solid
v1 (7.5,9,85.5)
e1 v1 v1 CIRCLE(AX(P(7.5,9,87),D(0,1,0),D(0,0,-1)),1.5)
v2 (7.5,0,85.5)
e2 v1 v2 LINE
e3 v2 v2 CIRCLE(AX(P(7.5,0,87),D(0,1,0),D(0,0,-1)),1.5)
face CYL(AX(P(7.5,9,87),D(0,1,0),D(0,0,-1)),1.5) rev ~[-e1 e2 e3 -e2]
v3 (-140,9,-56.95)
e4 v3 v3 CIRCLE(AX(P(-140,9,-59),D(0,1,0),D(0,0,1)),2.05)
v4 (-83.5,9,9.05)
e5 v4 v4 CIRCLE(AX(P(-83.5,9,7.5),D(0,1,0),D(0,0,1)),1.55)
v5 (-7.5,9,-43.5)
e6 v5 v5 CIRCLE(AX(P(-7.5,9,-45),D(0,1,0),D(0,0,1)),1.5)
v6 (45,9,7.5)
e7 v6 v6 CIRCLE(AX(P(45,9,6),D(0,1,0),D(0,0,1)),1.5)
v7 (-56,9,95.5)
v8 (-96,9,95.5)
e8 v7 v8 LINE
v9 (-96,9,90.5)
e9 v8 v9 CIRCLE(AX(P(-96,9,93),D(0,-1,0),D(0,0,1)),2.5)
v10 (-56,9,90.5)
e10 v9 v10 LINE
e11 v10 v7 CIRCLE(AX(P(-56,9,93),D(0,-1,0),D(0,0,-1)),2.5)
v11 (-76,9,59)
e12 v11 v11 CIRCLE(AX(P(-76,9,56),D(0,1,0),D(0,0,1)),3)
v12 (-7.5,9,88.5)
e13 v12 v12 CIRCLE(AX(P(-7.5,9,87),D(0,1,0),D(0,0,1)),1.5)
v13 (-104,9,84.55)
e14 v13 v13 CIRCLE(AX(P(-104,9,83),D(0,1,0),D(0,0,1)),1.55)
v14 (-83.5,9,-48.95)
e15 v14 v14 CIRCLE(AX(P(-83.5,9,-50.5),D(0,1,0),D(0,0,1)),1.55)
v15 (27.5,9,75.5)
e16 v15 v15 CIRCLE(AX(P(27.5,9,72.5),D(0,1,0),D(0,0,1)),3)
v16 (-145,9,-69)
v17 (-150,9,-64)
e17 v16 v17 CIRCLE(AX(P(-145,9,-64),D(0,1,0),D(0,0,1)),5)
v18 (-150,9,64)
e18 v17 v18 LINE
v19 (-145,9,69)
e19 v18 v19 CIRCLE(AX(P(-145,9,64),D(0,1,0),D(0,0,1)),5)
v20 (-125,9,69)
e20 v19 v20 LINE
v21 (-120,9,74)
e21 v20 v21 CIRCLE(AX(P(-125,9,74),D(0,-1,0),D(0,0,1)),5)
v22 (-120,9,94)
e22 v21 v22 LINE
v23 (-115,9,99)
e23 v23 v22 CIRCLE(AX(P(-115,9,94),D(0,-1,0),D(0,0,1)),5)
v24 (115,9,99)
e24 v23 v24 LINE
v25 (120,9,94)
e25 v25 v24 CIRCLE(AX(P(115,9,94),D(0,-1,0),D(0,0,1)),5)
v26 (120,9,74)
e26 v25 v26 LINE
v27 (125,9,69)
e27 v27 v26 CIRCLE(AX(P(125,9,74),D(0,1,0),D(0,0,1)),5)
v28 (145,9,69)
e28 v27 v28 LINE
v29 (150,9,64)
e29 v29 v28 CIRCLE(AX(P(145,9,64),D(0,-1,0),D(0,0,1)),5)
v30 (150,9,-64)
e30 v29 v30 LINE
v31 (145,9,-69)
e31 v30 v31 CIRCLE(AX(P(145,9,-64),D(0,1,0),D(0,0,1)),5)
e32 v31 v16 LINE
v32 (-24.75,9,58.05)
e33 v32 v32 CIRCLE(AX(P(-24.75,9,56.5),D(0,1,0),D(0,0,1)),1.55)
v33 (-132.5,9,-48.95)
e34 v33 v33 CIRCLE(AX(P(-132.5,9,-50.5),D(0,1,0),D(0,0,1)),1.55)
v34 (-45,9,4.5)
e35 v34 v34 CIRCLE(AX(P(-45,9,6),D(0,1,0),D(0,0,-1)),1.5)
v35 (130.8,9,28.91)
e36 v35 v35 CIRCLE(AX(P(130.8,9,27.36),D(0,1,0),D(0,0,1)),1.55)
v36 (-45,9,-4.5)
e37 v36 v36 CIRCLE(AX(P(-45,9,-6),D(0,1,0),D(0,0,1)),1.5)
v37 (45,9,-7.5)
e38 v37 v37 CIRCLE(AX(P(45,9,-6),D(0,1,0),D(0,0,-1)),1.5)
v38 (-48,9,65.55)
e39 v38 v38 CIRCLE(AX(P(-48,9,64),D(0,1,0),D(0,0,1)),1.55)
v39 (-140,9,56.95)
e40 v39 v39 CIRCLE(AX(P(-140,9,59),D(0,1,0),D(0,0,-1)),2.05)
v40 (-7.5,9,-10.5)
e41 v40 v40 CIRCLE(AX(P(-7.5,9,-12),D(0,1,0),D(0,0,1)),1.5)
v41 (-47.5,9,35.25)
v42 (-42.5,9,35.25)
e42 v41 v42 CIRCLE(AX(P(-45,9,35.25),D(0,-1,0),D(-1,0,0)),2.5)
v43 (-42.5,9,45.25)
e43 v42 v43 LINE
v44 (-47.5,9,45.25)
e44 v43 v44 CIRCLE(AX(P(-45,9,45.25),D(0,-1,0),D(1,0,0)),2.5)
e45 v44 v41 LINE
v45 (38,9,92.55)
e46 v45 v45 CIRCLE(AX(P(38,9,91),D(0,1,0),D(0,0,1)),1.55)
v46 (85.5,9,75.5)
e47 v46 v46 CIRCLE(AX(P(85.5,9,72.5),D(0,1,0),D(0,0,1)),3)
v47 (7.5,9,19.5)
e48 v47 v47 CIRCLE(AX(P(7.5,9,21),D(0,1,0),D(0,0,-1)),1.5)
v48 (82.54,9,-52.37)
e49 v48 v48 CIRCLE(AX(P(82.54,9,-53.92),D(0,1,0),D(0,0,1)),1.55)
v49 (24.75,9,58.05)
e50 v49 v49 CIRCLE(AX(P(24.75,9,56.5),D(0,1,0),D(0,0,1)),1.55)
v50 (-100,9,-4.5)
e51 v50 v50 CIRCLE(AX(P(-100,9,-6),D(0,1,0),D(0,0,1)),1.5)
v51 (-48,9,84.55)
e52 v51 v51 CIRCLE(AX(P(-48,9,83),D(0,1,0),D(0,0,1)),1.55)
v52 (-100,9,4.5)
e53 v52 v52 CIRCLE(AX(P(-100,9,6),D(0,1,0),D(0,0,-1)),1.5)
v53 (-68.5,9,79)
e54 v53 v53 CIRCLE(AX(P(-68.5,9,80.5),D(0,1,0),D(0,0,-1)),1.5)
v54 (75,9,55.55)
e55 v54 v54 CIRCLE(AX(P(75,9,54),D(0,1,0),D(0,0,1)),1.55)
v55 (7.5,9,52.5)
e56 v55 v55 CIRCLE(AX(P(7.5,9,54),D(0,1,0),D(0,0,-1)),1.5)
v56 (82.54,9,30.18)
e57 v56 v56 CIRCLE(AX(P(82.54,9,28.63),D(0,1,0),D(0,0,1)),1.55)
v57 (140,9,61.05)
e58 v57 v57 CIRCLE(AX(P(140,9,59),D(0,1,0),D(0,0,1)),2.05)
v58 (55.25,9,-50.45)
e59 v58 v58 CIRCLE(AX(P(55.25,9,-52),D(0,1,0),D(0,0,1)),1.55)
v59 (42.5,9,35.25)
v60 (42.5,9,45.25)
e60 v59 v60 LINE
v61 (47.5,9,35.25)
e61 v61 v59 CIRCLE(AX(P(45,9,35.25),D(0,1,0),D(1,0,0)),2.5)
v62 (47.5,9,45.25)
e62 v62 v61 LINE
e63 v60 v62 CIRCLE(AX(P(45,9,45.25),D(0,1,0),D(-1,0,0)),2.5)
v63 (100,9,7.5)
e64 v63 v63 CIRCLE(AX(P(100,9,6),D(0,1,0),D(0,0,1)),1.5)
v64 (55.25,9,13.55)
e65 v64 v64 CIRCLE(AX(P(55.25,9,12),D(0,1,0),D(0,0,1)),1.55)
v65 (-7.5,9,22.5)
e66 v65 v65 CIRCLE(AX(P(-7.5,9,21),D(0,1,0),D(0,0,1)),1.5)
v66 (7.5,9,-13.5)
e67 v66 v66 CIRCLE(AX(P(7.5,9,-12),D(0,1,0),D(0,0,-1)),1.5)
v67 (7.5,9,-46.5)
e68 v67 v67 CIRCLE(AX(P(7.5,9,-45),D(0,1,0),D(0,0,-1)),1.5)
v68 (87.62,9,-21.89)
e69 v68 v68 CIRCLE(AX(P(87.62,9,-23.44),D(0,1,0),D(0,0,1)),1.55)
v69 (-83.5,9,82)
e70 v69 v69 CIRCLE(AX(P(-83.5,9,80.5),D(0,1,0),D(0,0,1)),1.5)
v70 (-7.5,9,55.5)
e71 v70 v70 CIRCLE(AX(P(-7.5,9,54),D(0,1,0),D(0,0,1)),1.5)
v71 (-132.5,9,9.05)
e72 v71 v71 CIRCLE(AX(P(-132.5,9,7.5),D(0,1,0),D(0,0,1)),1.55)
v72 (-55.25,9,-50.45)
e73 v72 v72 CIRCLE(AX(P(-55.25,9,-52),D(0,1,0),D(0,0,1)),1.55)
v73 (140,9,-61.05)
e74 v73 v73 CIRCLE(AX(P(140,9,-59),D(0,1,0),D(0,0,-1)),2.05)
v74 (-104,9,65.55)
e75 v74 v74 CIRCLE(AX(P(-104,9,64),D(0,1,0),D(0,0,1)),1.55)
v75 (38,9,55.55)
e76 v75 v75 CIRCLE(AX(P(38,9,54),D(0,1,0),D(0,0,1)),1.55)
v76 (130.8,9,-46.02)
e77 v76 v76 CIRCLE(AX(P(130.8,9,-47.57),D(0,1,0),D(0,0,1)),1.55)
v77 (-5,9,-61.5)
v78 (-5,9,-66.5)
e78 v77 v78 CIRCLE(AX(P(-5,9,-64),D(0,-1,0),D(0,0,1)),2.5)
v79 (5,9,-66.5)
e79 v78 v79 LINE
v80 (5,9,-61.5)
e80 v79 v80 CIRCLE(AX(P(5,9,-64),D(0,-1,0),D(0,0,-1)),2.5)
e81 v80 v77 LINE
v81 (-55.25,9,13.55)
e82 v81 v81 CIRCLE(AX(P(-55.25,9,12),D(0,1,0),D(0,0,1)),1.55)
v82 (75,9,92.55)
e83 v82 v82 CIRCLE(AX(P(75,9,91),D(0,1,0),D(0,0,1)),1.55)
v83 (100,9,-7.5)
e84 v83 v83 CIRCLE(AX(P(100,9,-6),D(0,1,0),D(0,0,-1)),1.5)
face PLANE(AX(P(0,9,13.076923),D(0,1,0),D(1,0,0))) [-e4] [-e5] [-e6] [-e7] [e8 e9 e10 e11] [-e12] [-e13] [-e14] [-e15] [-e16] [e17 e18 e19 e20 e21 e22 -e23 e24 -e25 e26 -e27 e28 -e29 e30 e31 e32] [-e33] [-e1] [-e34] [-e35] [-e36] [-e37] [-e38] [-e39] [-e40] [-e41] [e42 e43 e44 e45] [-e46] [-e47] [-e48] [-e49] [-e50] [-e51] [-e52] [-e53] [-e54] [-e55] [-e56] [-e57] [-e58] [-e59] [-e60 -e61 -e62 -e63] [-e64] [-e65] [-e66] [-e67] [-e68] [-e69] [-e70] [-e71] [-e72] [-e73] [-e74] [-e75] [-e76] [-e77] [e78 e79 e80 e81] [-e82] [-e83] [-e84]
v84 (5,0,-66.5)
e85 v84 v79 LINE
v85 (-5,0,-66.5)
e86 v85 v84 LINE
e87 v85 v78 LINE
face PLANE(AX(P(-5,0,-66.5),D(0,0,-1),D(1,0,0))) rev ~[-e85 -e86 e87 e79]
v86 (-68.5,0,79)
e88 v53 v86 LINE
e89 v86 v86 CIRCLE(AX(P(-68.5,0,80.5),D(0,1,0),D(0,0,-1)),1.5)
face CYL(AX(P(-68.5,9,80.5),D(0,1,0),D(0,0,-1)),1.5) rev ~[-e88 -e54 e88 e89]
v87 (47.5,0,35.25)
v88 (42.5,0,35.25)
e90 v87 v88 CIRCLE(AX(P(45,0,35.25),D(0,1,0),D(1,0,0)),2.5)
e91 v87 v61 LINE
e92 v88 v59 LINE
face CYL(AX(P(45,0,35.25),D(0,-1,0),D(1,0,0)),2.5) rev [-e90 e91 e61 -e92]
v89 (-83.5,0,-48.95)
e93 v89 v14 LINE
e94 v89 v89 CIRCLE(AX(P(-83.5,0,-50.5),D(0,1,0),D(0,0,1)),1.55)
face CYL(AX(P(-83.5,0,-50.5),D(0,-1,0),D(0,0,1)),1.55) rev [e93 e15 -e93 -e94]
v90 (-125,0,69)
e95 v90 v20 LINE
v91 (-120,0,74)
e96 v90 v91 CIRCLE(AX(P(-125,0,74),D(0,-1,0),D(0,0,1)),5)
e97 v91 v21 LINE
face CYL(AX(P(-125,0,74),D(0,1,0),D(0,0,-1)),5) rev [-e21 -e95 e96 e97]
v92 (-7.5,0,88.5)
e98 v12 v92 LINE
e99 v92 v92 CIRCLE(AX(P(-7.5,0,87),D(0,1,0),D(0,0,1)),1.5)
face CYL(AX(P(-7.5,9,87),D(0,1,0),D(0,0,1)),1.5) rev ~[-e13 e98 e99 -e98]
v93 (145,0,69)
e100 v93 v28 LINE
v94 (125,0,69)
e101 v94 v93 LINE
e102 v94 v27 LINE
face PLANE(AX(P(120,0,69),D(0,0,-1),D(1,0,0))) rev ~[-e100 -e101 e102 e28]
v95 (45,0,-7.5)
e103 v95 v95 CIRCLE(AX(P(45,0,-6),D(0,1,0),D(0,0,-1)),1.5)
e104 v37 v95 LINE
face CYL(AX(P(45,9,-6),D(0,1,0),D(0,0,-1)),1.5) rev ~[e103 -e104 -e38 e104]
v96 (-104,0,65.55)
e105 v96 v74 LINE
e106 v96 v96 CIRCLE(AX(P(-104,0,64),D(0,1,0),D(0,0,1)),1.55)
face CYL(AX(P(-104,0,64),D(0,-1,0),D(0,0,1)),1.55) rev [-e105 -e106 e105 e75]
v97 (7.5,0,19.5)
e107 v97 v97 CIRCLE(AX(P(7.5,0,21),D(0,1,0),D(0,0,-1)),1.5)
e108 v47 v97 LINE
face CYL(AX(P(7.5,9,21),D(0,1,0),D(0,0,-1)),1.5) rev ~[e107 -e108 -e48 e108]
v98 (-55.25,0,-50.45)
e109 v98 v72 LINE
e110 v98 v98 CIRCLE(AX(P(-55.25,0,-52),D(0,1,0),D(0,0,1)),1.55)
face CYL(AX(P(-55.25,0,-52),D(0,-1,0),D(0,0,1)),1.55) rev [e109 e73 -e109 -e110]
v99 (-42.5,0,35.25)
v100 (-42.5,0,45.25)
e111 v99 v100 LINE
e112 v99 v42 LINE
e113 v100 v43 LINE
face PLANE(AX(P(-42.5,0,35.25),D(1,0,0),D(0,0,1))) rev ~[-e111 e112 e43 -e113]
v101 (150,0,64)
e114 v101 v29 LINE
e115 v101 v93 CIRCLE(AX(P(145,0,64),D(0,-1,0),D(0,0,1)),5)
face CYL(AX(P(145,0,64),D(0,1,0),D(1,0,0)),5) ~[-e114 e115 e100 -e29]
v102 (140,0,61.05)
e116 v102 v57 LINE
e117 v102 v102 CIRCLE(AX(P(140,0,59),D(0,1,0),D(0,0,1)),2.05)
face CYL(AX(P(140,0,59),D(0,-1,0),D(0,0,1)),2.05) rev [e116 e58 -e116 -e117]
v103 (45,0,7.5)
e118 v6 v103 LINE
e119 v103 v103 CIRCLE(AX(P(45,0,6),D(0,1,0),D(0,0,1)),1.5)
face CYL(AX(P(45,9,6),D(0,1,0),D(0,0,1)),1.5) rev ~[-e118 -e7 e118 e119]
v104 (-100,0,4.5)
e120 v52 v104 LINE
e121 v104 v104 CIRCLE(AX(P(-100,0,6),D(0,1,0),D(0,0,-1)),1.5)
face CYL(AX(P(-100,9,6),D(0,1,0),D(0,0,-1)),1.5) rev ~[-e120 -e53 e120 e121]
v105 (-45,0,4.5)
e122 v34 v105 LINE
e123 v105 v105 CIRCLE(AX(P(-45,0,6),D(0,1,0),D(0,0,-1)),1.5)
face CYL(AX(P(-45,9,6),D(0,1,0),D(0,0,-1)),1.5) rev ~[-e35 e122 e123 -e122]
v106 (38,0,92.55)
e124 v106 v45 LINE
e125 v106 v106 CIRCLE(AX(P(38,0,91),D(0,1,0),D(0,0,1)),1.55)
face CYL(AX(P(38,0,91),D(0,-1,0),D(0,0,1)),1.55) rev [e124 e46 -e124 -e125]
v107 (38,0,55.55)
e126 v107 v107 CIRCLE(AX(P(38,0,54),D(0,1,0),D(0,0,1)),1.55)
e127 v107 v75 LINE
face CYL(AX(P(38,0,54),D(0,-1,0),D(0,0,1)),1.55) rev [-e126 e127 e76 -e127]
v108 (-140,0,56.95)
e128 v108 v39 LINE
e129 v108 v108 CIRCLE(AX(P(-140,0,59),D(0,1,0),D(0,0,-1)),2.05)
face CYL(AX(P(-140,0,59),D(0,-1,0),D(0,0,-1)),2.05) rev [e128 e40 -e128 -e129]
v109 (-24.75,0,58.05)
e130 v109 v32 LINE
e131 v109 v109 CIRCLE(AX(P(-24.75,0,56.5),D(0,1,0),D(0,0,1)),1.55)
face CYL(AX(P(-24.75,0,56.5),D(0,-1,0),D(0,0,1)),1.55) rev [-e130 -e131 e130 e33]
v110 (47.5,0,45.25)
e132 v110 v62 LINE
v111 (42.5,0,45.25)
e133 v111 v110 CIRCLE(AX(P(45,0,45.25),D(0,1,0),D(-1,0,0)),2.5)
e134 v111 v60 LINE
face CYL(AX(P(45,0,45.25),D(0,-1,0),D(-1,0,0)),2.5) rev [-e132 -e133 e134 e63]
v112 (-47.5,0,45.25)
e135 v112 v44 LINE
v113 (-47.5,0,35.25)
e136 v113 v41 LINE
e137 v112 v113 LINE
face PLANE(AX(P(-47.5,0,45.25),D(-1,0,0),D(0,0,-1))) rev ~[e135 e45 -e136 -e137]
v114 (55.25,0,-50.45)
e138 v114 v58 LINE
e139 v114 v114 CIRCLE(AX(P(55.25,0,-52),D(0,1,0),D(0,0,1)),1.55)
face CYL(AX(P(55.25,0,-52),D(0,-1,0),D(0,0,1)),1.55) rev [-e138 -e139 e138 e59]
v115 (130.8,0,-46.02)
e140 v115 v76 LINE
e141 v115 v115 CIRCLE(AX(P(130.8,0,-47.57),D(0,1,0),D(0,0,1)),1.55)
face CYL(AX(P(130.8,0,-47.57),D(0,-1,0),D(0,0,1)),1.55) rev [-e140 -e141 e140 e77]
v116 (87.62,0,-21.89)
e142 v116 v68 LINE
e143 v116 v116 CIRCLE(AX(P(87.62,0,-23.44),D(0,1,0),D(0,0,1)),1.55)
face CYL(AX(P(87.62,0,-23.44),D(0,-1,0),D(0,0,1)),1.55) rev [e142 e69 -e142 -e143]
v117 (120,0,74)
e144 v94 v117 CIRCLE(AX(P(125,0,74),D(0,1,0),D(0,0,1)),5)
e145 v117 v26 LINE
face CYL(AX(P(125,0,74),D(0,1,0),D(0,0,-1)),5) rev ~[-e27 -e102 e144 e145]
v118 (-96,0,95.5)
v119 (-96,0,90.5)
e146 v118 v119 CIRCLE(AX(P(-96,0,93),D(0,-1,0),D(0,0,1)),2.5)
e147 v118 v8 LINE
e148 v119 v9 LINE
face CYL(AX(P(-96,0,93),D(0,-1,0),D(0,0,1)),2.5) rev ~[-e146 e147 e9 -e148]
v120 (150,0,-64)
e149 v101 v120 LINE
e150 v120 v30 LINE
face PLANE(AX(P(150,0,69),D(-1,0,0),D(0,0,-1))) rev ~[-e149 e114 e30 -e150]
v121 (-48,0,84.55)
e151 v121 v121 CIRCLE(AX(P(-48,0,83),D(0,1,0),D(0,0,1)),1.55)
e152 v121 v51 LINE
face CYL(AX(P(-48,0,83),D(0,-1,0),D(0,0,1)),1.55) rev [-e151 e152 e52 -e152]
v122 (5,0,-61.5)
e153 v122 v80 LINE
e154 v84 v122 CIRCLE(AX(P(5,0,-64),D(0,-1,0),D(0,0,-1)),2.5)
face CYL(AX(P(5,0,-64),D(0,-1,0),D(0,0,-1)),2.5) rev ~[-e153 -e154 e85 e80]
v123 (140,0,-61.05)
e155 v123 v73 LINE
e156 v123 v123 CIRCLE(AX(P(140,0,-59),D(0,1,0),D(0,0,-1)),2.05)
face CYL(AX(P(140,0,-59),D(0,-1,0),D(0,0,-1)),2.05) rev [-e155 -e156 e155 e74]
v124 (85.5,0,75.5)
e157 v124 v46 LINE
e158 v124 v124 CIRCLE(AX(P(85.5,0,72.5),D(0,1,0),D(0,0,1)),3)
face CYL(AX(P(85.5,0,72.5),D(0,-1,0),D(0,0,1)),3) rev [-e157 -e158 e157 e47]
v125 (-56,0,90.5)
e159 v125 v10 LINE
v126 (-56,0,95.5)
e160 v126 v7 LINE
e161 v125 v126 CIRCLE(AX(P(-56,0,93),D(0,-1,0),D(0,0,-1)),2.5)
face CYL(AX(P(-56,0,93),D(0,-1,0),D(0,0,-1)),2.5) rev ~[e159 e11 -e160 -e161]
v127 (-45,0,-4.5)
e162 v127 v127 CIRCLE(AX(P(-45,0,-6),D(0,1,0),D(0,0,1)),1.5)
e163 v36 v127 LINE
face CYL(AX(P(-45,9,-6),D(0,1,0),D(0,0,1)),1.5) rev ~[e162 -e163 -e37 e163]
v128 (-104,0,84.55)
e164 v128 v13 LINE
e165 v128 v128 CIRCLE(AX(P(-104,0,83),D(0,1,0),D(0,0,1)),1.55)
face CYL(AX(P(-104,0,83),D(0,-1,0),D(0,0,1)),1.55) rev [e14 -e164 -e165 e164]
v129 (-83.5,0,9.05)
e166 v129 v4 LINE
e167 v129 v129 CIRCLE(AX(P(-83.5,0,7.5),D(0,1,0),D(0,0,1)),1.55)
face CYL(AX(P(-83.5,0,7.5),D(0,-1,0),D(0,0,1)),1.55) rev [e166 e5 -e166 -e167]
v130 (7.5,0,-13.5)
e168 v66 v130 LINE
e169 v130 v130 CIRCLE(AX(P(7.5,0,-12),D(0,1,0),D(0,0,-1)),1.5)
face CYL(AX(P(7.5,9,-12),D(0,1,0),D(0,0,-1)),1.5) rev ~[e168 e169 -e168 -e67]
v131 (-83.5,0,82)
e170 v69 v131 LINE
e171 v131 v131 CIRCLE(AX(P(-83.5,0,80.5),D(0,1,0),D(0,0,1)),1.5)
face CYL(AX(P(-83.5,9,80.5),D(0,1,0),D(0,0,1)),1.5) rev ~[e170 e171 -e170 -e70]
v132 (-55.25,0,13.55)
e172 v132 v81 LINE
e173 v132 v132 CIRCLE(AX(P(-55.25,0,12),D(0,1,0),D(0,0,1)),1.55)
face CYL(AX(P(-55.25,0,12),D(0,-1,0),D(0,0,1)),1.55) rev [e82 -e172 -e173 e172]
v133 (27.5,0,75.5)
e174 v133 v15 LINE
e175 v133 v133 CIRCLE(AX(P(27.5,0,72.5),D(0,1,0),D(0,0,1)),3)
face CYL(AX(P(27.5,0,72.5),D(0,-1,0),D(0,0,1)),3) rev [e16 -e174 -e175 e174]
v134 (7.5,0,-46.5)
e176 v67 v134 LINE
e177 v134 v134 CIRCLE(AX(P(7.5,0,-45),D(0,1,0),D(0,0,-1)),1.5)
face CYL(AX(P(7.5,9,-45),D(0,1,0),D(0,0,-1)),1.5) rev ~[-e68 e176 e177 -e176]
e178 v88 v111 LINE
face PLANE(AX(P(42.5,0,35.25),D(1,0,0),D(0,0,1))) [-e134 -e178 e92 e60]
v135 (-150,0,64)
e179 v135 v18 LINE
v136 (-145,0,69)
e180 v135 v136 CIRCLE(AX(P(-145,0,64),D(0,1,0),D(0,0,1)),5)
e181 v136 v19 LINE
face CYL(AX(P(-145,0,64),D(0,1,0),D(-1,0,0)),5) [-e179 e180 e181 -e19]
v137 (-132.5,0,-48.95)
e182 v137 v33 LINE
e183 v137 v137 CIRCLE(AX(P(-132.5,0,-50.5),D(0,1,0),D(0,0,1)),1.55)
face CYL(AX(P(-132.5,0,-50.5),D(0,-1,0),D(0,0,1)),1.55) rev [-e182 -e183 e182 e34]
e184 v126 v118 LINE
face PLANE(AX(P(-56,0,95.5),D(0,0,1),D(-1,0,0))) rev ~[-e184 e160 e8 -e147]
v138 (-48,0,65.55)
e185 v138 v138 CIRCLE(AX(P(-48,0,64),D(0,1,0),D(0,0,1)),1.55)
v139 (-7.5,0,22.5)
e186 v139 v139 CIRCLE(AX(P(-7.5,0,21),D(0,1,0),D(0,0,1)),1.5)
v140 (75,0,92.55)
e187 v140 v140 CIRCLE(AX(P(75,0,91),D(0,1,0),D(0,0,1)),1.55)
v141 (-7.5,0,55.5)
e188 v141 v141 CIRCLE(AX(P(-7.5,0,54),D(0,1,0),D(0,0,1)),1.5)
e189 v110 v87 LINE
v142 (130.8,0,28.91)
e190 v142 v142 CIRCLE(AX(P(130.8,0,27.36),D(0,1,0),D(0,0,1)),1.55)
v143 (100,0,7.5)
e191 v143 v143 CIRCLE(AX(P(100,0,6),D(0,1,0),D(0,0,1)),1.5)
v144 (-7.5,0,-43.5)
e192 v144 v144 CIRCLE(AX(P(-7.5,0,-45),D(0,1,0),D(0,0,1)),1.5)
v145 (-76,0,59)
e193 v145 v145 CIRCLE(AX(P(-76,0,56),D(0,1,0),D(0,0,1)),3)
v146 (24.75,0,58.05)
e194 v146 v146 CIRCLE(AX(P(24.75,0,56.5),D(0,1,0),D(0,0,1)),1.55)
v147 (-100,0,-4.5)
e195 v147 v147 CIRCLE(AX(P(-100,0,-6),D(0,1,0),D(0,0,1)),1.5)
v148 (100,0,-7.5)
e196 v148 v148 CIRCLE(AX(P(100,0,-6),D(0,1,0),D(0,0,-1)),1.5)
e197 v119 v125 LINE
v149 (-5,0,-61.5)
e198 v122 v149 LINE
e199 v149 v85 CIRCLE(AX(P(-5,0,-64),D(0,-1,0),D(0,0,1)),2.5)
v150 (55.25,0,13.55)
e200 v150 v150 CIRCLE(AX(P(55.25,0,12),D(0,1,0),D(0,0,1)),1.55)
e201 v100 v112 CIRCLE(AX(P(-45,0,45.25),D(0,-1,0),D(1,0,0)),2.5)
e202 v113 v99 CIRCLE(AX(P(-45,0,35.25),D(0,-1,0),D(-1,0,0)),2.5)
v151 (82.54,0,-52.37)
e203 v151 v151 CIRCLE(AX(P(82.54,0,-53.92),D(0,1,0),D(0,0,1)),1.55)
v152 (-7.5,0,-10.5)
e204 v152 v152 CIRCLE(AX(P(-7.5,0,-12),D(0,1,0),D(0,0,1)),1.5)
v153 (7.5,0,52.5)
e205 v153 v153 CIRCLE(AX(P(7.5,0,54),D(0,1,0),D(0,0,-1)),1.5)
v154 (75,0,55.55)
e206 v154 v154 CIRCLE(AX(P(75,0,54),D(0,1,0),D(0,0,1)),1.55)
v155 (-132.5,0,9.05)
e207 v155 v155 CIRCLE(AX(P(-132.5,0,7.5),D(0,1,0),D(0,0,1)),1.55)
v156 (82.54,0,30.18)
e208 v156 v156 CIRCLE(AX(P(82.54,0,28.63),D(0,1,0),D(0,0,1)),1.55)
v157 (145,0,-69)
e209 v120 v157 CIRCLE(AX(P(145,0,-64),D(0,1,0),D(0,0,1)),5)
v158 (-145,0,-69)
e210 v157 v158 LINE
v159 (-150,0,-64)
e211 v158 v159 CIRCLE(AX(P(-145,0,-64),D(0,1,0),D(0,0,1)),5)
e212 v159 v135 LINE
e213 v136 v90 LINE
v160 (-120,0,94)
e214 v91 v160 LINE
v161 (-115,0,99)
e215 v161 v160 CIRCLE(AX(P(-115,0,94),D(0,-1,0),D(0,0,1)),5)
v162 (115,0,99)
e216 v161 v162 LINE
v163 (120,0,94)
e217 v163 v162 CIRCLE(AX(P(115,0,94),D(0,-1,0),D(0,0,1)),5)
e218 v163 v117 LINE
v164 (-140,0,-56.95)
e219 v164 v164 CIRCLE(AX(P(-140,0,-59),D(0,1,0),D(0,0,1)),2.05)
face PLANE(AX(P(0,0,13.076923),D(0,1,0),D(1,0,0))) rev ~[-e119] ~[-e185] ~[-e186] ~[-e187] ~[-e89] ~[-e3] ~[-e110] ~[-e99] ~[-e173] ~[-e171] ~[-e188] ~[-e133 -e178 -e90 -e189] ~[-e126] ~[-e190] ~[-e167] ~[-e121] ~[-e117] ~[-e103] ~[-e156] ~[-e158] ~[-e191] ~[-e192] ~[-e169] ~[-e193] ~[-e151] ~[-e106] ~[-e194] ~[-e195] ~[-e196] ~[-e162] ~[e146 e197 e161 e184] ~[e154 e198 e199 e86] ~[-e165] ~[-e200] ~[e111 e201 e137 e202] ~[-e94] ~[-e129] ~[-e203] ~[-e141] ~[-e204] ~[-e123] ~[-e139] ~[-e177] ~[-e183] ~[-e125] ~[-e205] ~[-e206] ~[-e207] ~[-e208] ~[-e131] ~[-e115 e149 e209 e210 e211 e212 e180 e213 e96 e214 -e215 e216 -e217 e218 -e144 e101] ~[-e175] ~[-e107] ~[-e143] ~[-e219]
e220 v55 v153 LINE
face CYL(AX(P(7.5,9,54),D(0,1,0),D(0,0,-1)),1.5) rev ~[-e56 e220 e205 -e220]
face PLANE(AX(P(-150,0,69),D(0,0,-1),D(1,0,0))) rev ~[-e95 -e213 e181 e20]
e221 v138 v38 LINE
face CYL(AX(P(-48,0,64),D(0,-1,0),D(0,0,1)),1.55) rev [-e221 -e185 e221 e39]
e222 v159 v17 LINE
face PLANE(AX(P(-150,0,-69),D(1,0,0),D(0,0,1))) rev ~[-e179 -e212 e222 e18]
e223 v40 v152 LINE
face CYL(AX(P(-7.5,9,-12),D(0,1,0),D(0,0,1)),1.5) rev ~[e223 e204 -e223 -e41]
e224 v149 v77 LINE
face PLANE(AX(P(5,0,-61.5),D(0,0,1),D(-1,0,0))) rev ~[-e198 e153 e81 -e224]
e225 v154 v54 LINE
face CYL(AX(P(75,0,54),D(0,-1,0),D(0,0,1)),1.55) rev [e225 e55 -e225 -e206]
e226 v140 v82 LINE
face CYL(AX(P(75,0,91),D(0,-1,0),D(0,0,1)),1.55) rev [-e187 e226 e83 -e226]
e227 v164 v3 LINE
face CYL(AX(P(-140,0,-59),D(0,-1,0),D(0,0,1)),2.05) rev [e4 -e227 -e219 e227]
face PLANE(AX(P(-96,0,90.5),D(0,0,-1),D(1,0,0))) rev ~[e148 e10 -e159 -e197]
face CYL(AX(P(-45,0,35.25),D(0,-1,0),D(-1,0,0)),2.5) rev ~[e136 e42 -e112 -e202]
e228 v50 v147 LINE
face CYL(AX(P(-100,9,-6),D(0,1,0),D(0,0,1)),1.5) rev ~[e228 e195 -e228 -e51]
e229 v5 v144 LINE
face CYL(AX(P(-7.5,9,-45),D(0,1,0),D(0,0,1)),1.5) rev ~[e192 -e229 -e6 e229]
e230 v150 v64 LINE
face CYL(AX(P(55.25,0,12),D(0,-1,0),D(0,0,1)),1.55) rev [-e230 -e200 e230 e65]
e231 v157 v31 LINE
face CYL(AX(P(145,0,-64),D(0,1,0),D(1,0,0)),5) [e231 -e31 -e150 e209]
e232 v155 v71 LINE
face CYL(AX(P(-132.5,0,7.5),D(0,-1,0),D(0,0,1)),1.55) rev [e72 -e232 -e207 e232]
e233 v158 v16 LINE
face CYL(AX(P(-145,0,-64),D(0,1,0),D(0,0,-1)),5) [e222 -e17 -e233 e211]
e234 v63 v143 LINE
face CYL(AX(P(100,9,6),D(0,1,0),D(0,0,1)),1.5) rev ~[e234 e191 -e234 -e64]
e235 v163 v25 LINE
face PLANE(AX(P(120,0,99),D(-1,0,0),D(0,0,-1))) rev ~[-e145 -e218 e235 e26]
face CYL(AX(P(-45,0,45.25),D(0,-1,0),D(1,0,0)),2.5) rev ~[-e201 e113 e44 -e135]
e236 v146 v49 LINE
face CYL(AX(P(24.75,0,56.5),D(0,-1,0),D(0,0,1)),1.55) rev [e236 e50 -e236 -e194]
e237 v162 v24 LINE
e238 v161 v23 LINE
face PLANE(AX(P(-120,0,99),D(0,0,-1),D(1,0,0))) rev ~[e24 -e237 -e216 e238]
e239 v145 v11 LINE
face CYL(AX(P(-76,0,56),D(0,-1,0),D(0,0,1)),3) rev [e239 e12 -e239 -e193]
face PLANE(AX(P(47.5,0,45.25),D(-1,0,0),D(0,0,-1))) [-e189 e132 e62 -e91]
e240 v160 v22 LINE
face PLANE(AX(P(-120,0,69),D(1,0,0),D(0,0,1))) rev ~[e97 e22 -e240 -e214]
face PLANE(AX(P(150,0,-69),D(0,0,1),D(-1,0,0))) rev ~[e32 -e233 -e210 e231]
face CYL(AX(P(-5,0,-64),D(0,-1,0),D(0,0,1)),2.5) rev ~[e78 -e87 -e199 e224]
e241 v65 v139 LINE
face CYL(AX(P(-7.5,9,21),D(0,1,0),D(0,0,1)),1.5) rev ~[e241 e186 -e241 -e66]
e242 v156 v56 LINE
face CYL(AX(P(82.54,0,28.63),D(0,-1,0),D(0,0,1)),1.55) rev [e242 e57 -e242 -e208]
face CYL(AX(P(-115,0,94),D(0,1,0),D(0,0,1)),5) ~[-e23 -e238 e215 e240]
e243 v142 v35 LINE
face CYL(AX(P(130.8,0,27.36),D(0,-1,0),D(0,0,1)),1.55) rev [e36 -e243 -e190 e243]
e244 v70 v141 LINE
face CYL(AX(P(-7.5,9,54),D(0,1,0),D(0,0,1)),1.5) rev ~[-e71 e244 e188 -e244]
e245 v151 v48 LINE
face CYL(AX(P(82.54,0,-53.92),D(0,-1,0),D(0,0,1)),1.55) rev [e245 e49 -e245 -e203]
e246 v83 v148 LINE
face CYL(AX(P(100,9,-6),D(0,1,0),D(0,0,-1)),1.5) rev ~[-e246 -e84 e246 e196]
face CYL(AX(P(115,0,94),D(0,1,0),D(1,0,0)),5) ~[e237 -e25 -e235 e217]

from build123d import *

# Parameters (mm, degrees)
ESQUISSE1_R             = 2.05
ESQUISSE1_R_2           = 1.55
ESQUISSE1_R_3           = 3
BOSS_EXTRU_1_DEPTH      = 9
CONG_2_R                = 5
ESQUISSE2_R             = 1.5
ENL_V_MAT_EXTRU_1_DEPTH = 10


with BuildPart() as part:
    # Esquisse1 → Boss.-Extru.1 (new body)
    with BuildSketch(Plane(origin=(0, 0, 0), x_dir=(1, 0, 0), z_dir=(0, 1, 0))):
        Polygon((150, -69), (150, 69), (-149.848840409, 69), (-150, 69), (-150, -69), (-120, -69), (-120, -99), (120, -99), (120, -69), align=None)
        with Locations(Location((-140, 59, 0), (0, 0, 270))):
            Circle(ESQUISSE1_R, mode=Mode.SUBTRACT)
        with Locations(Location((140, 59, 0), (0, 0, 90))):
            Circle(ESQUISSE1_R, mode=Mode.SUBTRACT)
        with Locations(Location((140, -59, 0), (0, 0, 270))):
            Circle(ESQUISSE1_R, mode=Mode.SUBTRACT)
        with Locations(Location((-140, -59, 0), (0, 0, 90))):
            Circle(ESQUISSE1_R, mode=Mode.SUBTRACT)
        with Locations(Location((-48, -83, 0), (0, 0, 270))):
            Circle(ESQUISSE1_R_2, mode=Mode.SUBTRACT)
        with Locations(Location((-104, -83, 0), (0, 0, 270))):
            Circle(ESQUISSE1_R_2, mode=Mode.SUBTRACT)
        with Locations(Location((-48, -64, 0), (0, 0, 270))):
            Circle(ESQUISSE1_R_2, mode=Mode.SUBTRACT)
        with Locations(Location((-104, -64, 0), (0, 0, 270))):
            Circle(ESQUISSE1_R_2, mode=Mode.SUBTRACT)
        with Locations(Location((82.54, -28.63, 0), (0, 0, 270))):
            Circle(ESQUISSE1_R_2, mode=Mode.SUBTRACT)
        with Locations(Location((130.8, -27.36, 0), (0, 0, 270))):
            Circle(ESQUISSE1_R_2, mode=Mode.SUBTRACT)
        with Locations(Location((130.8, 47.57, 0), (0, 0, 270))):
            Circle(ESQUISSE1_R_2, mode=Mode.SUBTRACT)
        with Locations(Location((82.54, 53.92, 0), (0, 0, 270))):
            Circle(ESQUISSE1_R_2, mode=Mode.SUBTRACT)
        with Locations(Location((87.62, 23.44, 0), (0, 0, 270))):
            Circle(ESQUISSE1_R_2, mode=Mode.SUBTRACT)
        with Locations(Location((38, -54, 0), (0, 0, 270))):
            Circle(ESQUISSE1_R_2, mode=Mode.SUBTRACT)
        with Locations(Location((75, -54, 0), (0, 0, 270))):
            Circle(ESQUISSE1_R_2, mode=Mode.SUBTRACT)
        with Locations(Location((75, -91, 0), (0, 0, 270))):
            Circle(ESQUISSE1_R_2, mode=Mode.SUBTRACT)
        with Locations(Location((38, -91, 0), (0, 0, 270))):
            Circle(ESQUISSE1_R_2, mode=Mode.SUBTRACT)
        with Locations(Location((-132.5, 50.5, 0), (0, 0, 270))):
            Circle(ESQUISSE1_R_2, mode=Mode.SUBTRACT)
        with Locations(Location((-132.5, -7.5, 0), (0, 0, 270))):
            Circle(ESQUISSE1_R_2, mode=Mode.SUBTRACT)
        with Locations(Location((-83.5, -7.5, 0), (0, 0, 270))):
            Circle(ESQUISSE1_R_2, mode=Mode.SUBTRACT)
        with Locations(Location((-83.5, 50.5, 0), (0, 0, 270))):
            Circle(ESQUISSE1_R_2, mode=Mode.SUBTRACT)
        with Locations(Location((-55.25, 52, 0), (0, 0, 270))):
            Circle(ESQUISSE1_R_2, mode=Mode.SUBTRACT)
        with Locations(Location((-55.25, -12, 0), (0, 0, 270))):
            Circle(ESQUISSE1_R_2, mode=Mode.SUBTRACT)
        with Locations(Location((55.25, 52, 0), (0, 0, 270))):
            Circle(ESQUISSE1_R_2, mode=Mode.SUBTRACT)
        with Locations(Location((55.25, -12, 0), (0, 0, 270))):
            Circle(ESQUISSE1_R_2, mode=Mode.SUBTRACT)
        with Locations(Location((-24.75, -56.5, 0), (0, 0, 270))):
            Circle(ESQUISSE1_R_2, mode=Mode.SUBTRACT)
        with Locations(Location((24.75, -56.5, 0), (0, 0, 270))):
            Circle(ESQUISSE1_R_2, mode=Mode.SUBTRACT)
        with Locations(Location((27.5, -72.5, 0), (0, 0, 270))):
            Circle(ESQUISSE1_R_3, mode=Mode.SUBTRACT)
        with Locations(Location((85.5, -72.5, 0), (0, 0, 270))):
            Circle(ESQUISSE1_R_3, mode=Mode.SUBTRACT)
        with Locations(Location((-76, -56, 0), (0, 0, 270))):
            Circle(ESQUISSE1_R_3, mode=Mode.SUBTRACT)
        with BuildLine():
            Line((-56, -95.5), (-96, -95.5))
            ThreePointArc((-96, -95.5), (-98.5, -93), (-96, -90.5))
            Line((-96, -90.5), (-56, -90.5))
            ThreePointArc((-56, -90.5), (-53.5, -93), (-56, -95.5))
        make_face(mode=Mode.SUBTRACT)
        with BuildLine():
            Line((-5, 66.5), (5, 66.5))
            ThreePointArc((5, 66.5), (7.5, 64), (5, 61.5))
            Line((5, 61.5), (-5, 61.5))
            ThreePointArc((-5, 61.5), (-7.5, 64), (-5, 66.5))
        make_face(mode=Mode.SUBTRACT)
        with BuildLine():
            Line((-42.5, -35.25), (-42.5, -45.25))
            ThreePointArc((-42.5, -45.25), (-45, -47.75), (-47.5, -45.25))
            Line((-47.5, -45.25), (-47.5, -35.25))
            ThreePointArc((-47.5, -35.25), (-45, -32.75), (-42.5, -35.25))
        make_face(mode=Mode.SUBTRACT)
        with BuildLine():
            Line((42.5, -35.25), (42.5, -45.25))
            ThreePointArc((42.5, -45.25), (45, -47.75), (47.5, -45.25))
            Line((47.5, -45.25), (47.5, -35.25))
            ThreePointArc((47.5, -35.25), (45, -32.75), (42.5, -35.25))
        make_face(mode=Mode.SUBTRACT)
    extrude(amount=BOSS_EXTRU_1_DEPTH)

    # Congé2
    cong_2_edges = [part.edges().sort_by_distance(p)[0] for p in [
        (150, 4.5, -69),
        (150, 4.5, 69),
        (120, 4.5, 69),
        (120, 4.5, 99),
        (-120, 4.5, 99),
        (-120, 4.5, 69),
        (-150, 4.5, 69),
        (-150, 4.5, -69),
    ]]
    fillet(cong_2_edges, radius=CONG_2_R)

    # Esquisse2 → Enlèv. mat.-Extru.1 (cut)
    with BuildSketch(Plane(origin=(0, 9, 0), x_dir=(1, 0, 0), z_dir=(0, 1, 0))):
        with Locations(Location((-7.5, 45, 0), (0, 0, 270))):
            Circle(ESQUISSE2_R)
        with Locations(Location((7.5, 45, 0), (0, 0, 90))):
            Circle(ESQUISSE2_R)
        with Locations(Location((-7.5, 12, 0), (0, 0, 270))):
            Circle(ESQUISSE2_R)
        with Locations(Location((7.5, 12, 0), (0, 0, 90))):
            Circle(ESQUISSE2_R)
        with Locations(Location((-7.5, -21, 0), (0, 0, 270))):
            Circle(ESQUISSE2_R)
        with Locations(Location((7.5, -21, 0), (0, 0, 90))):
            Circle(ESQUISSE2_R)
        with Locations(Location((-7.5, -54, 0), (0, 0, 270))):
            Circle(ESQUISSE2_R)
        with Locations(Location((7.5, -54, 0), (0, 0, 90))):
            Circle(ESQUISSE2_R)
        with Locations(Location((-7.5, -87, 0), (0, 0, 270))):
            Circle(ESQUISSE2_R)
        with Locations(Location((7.5, -87, 0), (0, 0, 90))):
            Circle(ESQUISSE2_R)
        with Locations(Location((-100, 6, 0), (0, 0, 270))):
            Circle(ESQUISSE2_R)
        with Locations(Location((-100, -6, 0), (0, 0, 90))):
            Circle(ESQUISSE2_R)
        with Locations(Location((100, -6, 0), (0, 0, 270))):
            Circle(ESQUISSE2_R)
        with Locations(Location((100, 6, 0), (0, 0, 90))):
            Circle(ESQUISSE2_R)
        with Locations(Location((-83.5, -80.5, 0), (0, 0, 270))):
            Circle(ESQUISSE2_R)
        with Locations(Location((-68.5, -80.5, 0), (0, 0, 90))):
            Circle(ESQUISSE2_R)
        with Locations(Location((-45, -6, 0), (0, 0, 90))):
            Circle(ESQUISSE2_R)
        with Locations(Location((-45, 6, 0), (0, 0, 270))):
            Circle(ESQUISSE2_R)
        with Locations(Location((45, 6, 0), (0, 0, 90))):
            Circle(ESQUISSE2_R)
        with Locations(Location((45, -6, 0), (0, 0, 270))):
            Circle(ESQUISSE2_R)
    extrude(amount=-ENL_V_MAT_EXTRU_1_DEPTH, mode=Mode.SUBTRACT)


solid = part.part
